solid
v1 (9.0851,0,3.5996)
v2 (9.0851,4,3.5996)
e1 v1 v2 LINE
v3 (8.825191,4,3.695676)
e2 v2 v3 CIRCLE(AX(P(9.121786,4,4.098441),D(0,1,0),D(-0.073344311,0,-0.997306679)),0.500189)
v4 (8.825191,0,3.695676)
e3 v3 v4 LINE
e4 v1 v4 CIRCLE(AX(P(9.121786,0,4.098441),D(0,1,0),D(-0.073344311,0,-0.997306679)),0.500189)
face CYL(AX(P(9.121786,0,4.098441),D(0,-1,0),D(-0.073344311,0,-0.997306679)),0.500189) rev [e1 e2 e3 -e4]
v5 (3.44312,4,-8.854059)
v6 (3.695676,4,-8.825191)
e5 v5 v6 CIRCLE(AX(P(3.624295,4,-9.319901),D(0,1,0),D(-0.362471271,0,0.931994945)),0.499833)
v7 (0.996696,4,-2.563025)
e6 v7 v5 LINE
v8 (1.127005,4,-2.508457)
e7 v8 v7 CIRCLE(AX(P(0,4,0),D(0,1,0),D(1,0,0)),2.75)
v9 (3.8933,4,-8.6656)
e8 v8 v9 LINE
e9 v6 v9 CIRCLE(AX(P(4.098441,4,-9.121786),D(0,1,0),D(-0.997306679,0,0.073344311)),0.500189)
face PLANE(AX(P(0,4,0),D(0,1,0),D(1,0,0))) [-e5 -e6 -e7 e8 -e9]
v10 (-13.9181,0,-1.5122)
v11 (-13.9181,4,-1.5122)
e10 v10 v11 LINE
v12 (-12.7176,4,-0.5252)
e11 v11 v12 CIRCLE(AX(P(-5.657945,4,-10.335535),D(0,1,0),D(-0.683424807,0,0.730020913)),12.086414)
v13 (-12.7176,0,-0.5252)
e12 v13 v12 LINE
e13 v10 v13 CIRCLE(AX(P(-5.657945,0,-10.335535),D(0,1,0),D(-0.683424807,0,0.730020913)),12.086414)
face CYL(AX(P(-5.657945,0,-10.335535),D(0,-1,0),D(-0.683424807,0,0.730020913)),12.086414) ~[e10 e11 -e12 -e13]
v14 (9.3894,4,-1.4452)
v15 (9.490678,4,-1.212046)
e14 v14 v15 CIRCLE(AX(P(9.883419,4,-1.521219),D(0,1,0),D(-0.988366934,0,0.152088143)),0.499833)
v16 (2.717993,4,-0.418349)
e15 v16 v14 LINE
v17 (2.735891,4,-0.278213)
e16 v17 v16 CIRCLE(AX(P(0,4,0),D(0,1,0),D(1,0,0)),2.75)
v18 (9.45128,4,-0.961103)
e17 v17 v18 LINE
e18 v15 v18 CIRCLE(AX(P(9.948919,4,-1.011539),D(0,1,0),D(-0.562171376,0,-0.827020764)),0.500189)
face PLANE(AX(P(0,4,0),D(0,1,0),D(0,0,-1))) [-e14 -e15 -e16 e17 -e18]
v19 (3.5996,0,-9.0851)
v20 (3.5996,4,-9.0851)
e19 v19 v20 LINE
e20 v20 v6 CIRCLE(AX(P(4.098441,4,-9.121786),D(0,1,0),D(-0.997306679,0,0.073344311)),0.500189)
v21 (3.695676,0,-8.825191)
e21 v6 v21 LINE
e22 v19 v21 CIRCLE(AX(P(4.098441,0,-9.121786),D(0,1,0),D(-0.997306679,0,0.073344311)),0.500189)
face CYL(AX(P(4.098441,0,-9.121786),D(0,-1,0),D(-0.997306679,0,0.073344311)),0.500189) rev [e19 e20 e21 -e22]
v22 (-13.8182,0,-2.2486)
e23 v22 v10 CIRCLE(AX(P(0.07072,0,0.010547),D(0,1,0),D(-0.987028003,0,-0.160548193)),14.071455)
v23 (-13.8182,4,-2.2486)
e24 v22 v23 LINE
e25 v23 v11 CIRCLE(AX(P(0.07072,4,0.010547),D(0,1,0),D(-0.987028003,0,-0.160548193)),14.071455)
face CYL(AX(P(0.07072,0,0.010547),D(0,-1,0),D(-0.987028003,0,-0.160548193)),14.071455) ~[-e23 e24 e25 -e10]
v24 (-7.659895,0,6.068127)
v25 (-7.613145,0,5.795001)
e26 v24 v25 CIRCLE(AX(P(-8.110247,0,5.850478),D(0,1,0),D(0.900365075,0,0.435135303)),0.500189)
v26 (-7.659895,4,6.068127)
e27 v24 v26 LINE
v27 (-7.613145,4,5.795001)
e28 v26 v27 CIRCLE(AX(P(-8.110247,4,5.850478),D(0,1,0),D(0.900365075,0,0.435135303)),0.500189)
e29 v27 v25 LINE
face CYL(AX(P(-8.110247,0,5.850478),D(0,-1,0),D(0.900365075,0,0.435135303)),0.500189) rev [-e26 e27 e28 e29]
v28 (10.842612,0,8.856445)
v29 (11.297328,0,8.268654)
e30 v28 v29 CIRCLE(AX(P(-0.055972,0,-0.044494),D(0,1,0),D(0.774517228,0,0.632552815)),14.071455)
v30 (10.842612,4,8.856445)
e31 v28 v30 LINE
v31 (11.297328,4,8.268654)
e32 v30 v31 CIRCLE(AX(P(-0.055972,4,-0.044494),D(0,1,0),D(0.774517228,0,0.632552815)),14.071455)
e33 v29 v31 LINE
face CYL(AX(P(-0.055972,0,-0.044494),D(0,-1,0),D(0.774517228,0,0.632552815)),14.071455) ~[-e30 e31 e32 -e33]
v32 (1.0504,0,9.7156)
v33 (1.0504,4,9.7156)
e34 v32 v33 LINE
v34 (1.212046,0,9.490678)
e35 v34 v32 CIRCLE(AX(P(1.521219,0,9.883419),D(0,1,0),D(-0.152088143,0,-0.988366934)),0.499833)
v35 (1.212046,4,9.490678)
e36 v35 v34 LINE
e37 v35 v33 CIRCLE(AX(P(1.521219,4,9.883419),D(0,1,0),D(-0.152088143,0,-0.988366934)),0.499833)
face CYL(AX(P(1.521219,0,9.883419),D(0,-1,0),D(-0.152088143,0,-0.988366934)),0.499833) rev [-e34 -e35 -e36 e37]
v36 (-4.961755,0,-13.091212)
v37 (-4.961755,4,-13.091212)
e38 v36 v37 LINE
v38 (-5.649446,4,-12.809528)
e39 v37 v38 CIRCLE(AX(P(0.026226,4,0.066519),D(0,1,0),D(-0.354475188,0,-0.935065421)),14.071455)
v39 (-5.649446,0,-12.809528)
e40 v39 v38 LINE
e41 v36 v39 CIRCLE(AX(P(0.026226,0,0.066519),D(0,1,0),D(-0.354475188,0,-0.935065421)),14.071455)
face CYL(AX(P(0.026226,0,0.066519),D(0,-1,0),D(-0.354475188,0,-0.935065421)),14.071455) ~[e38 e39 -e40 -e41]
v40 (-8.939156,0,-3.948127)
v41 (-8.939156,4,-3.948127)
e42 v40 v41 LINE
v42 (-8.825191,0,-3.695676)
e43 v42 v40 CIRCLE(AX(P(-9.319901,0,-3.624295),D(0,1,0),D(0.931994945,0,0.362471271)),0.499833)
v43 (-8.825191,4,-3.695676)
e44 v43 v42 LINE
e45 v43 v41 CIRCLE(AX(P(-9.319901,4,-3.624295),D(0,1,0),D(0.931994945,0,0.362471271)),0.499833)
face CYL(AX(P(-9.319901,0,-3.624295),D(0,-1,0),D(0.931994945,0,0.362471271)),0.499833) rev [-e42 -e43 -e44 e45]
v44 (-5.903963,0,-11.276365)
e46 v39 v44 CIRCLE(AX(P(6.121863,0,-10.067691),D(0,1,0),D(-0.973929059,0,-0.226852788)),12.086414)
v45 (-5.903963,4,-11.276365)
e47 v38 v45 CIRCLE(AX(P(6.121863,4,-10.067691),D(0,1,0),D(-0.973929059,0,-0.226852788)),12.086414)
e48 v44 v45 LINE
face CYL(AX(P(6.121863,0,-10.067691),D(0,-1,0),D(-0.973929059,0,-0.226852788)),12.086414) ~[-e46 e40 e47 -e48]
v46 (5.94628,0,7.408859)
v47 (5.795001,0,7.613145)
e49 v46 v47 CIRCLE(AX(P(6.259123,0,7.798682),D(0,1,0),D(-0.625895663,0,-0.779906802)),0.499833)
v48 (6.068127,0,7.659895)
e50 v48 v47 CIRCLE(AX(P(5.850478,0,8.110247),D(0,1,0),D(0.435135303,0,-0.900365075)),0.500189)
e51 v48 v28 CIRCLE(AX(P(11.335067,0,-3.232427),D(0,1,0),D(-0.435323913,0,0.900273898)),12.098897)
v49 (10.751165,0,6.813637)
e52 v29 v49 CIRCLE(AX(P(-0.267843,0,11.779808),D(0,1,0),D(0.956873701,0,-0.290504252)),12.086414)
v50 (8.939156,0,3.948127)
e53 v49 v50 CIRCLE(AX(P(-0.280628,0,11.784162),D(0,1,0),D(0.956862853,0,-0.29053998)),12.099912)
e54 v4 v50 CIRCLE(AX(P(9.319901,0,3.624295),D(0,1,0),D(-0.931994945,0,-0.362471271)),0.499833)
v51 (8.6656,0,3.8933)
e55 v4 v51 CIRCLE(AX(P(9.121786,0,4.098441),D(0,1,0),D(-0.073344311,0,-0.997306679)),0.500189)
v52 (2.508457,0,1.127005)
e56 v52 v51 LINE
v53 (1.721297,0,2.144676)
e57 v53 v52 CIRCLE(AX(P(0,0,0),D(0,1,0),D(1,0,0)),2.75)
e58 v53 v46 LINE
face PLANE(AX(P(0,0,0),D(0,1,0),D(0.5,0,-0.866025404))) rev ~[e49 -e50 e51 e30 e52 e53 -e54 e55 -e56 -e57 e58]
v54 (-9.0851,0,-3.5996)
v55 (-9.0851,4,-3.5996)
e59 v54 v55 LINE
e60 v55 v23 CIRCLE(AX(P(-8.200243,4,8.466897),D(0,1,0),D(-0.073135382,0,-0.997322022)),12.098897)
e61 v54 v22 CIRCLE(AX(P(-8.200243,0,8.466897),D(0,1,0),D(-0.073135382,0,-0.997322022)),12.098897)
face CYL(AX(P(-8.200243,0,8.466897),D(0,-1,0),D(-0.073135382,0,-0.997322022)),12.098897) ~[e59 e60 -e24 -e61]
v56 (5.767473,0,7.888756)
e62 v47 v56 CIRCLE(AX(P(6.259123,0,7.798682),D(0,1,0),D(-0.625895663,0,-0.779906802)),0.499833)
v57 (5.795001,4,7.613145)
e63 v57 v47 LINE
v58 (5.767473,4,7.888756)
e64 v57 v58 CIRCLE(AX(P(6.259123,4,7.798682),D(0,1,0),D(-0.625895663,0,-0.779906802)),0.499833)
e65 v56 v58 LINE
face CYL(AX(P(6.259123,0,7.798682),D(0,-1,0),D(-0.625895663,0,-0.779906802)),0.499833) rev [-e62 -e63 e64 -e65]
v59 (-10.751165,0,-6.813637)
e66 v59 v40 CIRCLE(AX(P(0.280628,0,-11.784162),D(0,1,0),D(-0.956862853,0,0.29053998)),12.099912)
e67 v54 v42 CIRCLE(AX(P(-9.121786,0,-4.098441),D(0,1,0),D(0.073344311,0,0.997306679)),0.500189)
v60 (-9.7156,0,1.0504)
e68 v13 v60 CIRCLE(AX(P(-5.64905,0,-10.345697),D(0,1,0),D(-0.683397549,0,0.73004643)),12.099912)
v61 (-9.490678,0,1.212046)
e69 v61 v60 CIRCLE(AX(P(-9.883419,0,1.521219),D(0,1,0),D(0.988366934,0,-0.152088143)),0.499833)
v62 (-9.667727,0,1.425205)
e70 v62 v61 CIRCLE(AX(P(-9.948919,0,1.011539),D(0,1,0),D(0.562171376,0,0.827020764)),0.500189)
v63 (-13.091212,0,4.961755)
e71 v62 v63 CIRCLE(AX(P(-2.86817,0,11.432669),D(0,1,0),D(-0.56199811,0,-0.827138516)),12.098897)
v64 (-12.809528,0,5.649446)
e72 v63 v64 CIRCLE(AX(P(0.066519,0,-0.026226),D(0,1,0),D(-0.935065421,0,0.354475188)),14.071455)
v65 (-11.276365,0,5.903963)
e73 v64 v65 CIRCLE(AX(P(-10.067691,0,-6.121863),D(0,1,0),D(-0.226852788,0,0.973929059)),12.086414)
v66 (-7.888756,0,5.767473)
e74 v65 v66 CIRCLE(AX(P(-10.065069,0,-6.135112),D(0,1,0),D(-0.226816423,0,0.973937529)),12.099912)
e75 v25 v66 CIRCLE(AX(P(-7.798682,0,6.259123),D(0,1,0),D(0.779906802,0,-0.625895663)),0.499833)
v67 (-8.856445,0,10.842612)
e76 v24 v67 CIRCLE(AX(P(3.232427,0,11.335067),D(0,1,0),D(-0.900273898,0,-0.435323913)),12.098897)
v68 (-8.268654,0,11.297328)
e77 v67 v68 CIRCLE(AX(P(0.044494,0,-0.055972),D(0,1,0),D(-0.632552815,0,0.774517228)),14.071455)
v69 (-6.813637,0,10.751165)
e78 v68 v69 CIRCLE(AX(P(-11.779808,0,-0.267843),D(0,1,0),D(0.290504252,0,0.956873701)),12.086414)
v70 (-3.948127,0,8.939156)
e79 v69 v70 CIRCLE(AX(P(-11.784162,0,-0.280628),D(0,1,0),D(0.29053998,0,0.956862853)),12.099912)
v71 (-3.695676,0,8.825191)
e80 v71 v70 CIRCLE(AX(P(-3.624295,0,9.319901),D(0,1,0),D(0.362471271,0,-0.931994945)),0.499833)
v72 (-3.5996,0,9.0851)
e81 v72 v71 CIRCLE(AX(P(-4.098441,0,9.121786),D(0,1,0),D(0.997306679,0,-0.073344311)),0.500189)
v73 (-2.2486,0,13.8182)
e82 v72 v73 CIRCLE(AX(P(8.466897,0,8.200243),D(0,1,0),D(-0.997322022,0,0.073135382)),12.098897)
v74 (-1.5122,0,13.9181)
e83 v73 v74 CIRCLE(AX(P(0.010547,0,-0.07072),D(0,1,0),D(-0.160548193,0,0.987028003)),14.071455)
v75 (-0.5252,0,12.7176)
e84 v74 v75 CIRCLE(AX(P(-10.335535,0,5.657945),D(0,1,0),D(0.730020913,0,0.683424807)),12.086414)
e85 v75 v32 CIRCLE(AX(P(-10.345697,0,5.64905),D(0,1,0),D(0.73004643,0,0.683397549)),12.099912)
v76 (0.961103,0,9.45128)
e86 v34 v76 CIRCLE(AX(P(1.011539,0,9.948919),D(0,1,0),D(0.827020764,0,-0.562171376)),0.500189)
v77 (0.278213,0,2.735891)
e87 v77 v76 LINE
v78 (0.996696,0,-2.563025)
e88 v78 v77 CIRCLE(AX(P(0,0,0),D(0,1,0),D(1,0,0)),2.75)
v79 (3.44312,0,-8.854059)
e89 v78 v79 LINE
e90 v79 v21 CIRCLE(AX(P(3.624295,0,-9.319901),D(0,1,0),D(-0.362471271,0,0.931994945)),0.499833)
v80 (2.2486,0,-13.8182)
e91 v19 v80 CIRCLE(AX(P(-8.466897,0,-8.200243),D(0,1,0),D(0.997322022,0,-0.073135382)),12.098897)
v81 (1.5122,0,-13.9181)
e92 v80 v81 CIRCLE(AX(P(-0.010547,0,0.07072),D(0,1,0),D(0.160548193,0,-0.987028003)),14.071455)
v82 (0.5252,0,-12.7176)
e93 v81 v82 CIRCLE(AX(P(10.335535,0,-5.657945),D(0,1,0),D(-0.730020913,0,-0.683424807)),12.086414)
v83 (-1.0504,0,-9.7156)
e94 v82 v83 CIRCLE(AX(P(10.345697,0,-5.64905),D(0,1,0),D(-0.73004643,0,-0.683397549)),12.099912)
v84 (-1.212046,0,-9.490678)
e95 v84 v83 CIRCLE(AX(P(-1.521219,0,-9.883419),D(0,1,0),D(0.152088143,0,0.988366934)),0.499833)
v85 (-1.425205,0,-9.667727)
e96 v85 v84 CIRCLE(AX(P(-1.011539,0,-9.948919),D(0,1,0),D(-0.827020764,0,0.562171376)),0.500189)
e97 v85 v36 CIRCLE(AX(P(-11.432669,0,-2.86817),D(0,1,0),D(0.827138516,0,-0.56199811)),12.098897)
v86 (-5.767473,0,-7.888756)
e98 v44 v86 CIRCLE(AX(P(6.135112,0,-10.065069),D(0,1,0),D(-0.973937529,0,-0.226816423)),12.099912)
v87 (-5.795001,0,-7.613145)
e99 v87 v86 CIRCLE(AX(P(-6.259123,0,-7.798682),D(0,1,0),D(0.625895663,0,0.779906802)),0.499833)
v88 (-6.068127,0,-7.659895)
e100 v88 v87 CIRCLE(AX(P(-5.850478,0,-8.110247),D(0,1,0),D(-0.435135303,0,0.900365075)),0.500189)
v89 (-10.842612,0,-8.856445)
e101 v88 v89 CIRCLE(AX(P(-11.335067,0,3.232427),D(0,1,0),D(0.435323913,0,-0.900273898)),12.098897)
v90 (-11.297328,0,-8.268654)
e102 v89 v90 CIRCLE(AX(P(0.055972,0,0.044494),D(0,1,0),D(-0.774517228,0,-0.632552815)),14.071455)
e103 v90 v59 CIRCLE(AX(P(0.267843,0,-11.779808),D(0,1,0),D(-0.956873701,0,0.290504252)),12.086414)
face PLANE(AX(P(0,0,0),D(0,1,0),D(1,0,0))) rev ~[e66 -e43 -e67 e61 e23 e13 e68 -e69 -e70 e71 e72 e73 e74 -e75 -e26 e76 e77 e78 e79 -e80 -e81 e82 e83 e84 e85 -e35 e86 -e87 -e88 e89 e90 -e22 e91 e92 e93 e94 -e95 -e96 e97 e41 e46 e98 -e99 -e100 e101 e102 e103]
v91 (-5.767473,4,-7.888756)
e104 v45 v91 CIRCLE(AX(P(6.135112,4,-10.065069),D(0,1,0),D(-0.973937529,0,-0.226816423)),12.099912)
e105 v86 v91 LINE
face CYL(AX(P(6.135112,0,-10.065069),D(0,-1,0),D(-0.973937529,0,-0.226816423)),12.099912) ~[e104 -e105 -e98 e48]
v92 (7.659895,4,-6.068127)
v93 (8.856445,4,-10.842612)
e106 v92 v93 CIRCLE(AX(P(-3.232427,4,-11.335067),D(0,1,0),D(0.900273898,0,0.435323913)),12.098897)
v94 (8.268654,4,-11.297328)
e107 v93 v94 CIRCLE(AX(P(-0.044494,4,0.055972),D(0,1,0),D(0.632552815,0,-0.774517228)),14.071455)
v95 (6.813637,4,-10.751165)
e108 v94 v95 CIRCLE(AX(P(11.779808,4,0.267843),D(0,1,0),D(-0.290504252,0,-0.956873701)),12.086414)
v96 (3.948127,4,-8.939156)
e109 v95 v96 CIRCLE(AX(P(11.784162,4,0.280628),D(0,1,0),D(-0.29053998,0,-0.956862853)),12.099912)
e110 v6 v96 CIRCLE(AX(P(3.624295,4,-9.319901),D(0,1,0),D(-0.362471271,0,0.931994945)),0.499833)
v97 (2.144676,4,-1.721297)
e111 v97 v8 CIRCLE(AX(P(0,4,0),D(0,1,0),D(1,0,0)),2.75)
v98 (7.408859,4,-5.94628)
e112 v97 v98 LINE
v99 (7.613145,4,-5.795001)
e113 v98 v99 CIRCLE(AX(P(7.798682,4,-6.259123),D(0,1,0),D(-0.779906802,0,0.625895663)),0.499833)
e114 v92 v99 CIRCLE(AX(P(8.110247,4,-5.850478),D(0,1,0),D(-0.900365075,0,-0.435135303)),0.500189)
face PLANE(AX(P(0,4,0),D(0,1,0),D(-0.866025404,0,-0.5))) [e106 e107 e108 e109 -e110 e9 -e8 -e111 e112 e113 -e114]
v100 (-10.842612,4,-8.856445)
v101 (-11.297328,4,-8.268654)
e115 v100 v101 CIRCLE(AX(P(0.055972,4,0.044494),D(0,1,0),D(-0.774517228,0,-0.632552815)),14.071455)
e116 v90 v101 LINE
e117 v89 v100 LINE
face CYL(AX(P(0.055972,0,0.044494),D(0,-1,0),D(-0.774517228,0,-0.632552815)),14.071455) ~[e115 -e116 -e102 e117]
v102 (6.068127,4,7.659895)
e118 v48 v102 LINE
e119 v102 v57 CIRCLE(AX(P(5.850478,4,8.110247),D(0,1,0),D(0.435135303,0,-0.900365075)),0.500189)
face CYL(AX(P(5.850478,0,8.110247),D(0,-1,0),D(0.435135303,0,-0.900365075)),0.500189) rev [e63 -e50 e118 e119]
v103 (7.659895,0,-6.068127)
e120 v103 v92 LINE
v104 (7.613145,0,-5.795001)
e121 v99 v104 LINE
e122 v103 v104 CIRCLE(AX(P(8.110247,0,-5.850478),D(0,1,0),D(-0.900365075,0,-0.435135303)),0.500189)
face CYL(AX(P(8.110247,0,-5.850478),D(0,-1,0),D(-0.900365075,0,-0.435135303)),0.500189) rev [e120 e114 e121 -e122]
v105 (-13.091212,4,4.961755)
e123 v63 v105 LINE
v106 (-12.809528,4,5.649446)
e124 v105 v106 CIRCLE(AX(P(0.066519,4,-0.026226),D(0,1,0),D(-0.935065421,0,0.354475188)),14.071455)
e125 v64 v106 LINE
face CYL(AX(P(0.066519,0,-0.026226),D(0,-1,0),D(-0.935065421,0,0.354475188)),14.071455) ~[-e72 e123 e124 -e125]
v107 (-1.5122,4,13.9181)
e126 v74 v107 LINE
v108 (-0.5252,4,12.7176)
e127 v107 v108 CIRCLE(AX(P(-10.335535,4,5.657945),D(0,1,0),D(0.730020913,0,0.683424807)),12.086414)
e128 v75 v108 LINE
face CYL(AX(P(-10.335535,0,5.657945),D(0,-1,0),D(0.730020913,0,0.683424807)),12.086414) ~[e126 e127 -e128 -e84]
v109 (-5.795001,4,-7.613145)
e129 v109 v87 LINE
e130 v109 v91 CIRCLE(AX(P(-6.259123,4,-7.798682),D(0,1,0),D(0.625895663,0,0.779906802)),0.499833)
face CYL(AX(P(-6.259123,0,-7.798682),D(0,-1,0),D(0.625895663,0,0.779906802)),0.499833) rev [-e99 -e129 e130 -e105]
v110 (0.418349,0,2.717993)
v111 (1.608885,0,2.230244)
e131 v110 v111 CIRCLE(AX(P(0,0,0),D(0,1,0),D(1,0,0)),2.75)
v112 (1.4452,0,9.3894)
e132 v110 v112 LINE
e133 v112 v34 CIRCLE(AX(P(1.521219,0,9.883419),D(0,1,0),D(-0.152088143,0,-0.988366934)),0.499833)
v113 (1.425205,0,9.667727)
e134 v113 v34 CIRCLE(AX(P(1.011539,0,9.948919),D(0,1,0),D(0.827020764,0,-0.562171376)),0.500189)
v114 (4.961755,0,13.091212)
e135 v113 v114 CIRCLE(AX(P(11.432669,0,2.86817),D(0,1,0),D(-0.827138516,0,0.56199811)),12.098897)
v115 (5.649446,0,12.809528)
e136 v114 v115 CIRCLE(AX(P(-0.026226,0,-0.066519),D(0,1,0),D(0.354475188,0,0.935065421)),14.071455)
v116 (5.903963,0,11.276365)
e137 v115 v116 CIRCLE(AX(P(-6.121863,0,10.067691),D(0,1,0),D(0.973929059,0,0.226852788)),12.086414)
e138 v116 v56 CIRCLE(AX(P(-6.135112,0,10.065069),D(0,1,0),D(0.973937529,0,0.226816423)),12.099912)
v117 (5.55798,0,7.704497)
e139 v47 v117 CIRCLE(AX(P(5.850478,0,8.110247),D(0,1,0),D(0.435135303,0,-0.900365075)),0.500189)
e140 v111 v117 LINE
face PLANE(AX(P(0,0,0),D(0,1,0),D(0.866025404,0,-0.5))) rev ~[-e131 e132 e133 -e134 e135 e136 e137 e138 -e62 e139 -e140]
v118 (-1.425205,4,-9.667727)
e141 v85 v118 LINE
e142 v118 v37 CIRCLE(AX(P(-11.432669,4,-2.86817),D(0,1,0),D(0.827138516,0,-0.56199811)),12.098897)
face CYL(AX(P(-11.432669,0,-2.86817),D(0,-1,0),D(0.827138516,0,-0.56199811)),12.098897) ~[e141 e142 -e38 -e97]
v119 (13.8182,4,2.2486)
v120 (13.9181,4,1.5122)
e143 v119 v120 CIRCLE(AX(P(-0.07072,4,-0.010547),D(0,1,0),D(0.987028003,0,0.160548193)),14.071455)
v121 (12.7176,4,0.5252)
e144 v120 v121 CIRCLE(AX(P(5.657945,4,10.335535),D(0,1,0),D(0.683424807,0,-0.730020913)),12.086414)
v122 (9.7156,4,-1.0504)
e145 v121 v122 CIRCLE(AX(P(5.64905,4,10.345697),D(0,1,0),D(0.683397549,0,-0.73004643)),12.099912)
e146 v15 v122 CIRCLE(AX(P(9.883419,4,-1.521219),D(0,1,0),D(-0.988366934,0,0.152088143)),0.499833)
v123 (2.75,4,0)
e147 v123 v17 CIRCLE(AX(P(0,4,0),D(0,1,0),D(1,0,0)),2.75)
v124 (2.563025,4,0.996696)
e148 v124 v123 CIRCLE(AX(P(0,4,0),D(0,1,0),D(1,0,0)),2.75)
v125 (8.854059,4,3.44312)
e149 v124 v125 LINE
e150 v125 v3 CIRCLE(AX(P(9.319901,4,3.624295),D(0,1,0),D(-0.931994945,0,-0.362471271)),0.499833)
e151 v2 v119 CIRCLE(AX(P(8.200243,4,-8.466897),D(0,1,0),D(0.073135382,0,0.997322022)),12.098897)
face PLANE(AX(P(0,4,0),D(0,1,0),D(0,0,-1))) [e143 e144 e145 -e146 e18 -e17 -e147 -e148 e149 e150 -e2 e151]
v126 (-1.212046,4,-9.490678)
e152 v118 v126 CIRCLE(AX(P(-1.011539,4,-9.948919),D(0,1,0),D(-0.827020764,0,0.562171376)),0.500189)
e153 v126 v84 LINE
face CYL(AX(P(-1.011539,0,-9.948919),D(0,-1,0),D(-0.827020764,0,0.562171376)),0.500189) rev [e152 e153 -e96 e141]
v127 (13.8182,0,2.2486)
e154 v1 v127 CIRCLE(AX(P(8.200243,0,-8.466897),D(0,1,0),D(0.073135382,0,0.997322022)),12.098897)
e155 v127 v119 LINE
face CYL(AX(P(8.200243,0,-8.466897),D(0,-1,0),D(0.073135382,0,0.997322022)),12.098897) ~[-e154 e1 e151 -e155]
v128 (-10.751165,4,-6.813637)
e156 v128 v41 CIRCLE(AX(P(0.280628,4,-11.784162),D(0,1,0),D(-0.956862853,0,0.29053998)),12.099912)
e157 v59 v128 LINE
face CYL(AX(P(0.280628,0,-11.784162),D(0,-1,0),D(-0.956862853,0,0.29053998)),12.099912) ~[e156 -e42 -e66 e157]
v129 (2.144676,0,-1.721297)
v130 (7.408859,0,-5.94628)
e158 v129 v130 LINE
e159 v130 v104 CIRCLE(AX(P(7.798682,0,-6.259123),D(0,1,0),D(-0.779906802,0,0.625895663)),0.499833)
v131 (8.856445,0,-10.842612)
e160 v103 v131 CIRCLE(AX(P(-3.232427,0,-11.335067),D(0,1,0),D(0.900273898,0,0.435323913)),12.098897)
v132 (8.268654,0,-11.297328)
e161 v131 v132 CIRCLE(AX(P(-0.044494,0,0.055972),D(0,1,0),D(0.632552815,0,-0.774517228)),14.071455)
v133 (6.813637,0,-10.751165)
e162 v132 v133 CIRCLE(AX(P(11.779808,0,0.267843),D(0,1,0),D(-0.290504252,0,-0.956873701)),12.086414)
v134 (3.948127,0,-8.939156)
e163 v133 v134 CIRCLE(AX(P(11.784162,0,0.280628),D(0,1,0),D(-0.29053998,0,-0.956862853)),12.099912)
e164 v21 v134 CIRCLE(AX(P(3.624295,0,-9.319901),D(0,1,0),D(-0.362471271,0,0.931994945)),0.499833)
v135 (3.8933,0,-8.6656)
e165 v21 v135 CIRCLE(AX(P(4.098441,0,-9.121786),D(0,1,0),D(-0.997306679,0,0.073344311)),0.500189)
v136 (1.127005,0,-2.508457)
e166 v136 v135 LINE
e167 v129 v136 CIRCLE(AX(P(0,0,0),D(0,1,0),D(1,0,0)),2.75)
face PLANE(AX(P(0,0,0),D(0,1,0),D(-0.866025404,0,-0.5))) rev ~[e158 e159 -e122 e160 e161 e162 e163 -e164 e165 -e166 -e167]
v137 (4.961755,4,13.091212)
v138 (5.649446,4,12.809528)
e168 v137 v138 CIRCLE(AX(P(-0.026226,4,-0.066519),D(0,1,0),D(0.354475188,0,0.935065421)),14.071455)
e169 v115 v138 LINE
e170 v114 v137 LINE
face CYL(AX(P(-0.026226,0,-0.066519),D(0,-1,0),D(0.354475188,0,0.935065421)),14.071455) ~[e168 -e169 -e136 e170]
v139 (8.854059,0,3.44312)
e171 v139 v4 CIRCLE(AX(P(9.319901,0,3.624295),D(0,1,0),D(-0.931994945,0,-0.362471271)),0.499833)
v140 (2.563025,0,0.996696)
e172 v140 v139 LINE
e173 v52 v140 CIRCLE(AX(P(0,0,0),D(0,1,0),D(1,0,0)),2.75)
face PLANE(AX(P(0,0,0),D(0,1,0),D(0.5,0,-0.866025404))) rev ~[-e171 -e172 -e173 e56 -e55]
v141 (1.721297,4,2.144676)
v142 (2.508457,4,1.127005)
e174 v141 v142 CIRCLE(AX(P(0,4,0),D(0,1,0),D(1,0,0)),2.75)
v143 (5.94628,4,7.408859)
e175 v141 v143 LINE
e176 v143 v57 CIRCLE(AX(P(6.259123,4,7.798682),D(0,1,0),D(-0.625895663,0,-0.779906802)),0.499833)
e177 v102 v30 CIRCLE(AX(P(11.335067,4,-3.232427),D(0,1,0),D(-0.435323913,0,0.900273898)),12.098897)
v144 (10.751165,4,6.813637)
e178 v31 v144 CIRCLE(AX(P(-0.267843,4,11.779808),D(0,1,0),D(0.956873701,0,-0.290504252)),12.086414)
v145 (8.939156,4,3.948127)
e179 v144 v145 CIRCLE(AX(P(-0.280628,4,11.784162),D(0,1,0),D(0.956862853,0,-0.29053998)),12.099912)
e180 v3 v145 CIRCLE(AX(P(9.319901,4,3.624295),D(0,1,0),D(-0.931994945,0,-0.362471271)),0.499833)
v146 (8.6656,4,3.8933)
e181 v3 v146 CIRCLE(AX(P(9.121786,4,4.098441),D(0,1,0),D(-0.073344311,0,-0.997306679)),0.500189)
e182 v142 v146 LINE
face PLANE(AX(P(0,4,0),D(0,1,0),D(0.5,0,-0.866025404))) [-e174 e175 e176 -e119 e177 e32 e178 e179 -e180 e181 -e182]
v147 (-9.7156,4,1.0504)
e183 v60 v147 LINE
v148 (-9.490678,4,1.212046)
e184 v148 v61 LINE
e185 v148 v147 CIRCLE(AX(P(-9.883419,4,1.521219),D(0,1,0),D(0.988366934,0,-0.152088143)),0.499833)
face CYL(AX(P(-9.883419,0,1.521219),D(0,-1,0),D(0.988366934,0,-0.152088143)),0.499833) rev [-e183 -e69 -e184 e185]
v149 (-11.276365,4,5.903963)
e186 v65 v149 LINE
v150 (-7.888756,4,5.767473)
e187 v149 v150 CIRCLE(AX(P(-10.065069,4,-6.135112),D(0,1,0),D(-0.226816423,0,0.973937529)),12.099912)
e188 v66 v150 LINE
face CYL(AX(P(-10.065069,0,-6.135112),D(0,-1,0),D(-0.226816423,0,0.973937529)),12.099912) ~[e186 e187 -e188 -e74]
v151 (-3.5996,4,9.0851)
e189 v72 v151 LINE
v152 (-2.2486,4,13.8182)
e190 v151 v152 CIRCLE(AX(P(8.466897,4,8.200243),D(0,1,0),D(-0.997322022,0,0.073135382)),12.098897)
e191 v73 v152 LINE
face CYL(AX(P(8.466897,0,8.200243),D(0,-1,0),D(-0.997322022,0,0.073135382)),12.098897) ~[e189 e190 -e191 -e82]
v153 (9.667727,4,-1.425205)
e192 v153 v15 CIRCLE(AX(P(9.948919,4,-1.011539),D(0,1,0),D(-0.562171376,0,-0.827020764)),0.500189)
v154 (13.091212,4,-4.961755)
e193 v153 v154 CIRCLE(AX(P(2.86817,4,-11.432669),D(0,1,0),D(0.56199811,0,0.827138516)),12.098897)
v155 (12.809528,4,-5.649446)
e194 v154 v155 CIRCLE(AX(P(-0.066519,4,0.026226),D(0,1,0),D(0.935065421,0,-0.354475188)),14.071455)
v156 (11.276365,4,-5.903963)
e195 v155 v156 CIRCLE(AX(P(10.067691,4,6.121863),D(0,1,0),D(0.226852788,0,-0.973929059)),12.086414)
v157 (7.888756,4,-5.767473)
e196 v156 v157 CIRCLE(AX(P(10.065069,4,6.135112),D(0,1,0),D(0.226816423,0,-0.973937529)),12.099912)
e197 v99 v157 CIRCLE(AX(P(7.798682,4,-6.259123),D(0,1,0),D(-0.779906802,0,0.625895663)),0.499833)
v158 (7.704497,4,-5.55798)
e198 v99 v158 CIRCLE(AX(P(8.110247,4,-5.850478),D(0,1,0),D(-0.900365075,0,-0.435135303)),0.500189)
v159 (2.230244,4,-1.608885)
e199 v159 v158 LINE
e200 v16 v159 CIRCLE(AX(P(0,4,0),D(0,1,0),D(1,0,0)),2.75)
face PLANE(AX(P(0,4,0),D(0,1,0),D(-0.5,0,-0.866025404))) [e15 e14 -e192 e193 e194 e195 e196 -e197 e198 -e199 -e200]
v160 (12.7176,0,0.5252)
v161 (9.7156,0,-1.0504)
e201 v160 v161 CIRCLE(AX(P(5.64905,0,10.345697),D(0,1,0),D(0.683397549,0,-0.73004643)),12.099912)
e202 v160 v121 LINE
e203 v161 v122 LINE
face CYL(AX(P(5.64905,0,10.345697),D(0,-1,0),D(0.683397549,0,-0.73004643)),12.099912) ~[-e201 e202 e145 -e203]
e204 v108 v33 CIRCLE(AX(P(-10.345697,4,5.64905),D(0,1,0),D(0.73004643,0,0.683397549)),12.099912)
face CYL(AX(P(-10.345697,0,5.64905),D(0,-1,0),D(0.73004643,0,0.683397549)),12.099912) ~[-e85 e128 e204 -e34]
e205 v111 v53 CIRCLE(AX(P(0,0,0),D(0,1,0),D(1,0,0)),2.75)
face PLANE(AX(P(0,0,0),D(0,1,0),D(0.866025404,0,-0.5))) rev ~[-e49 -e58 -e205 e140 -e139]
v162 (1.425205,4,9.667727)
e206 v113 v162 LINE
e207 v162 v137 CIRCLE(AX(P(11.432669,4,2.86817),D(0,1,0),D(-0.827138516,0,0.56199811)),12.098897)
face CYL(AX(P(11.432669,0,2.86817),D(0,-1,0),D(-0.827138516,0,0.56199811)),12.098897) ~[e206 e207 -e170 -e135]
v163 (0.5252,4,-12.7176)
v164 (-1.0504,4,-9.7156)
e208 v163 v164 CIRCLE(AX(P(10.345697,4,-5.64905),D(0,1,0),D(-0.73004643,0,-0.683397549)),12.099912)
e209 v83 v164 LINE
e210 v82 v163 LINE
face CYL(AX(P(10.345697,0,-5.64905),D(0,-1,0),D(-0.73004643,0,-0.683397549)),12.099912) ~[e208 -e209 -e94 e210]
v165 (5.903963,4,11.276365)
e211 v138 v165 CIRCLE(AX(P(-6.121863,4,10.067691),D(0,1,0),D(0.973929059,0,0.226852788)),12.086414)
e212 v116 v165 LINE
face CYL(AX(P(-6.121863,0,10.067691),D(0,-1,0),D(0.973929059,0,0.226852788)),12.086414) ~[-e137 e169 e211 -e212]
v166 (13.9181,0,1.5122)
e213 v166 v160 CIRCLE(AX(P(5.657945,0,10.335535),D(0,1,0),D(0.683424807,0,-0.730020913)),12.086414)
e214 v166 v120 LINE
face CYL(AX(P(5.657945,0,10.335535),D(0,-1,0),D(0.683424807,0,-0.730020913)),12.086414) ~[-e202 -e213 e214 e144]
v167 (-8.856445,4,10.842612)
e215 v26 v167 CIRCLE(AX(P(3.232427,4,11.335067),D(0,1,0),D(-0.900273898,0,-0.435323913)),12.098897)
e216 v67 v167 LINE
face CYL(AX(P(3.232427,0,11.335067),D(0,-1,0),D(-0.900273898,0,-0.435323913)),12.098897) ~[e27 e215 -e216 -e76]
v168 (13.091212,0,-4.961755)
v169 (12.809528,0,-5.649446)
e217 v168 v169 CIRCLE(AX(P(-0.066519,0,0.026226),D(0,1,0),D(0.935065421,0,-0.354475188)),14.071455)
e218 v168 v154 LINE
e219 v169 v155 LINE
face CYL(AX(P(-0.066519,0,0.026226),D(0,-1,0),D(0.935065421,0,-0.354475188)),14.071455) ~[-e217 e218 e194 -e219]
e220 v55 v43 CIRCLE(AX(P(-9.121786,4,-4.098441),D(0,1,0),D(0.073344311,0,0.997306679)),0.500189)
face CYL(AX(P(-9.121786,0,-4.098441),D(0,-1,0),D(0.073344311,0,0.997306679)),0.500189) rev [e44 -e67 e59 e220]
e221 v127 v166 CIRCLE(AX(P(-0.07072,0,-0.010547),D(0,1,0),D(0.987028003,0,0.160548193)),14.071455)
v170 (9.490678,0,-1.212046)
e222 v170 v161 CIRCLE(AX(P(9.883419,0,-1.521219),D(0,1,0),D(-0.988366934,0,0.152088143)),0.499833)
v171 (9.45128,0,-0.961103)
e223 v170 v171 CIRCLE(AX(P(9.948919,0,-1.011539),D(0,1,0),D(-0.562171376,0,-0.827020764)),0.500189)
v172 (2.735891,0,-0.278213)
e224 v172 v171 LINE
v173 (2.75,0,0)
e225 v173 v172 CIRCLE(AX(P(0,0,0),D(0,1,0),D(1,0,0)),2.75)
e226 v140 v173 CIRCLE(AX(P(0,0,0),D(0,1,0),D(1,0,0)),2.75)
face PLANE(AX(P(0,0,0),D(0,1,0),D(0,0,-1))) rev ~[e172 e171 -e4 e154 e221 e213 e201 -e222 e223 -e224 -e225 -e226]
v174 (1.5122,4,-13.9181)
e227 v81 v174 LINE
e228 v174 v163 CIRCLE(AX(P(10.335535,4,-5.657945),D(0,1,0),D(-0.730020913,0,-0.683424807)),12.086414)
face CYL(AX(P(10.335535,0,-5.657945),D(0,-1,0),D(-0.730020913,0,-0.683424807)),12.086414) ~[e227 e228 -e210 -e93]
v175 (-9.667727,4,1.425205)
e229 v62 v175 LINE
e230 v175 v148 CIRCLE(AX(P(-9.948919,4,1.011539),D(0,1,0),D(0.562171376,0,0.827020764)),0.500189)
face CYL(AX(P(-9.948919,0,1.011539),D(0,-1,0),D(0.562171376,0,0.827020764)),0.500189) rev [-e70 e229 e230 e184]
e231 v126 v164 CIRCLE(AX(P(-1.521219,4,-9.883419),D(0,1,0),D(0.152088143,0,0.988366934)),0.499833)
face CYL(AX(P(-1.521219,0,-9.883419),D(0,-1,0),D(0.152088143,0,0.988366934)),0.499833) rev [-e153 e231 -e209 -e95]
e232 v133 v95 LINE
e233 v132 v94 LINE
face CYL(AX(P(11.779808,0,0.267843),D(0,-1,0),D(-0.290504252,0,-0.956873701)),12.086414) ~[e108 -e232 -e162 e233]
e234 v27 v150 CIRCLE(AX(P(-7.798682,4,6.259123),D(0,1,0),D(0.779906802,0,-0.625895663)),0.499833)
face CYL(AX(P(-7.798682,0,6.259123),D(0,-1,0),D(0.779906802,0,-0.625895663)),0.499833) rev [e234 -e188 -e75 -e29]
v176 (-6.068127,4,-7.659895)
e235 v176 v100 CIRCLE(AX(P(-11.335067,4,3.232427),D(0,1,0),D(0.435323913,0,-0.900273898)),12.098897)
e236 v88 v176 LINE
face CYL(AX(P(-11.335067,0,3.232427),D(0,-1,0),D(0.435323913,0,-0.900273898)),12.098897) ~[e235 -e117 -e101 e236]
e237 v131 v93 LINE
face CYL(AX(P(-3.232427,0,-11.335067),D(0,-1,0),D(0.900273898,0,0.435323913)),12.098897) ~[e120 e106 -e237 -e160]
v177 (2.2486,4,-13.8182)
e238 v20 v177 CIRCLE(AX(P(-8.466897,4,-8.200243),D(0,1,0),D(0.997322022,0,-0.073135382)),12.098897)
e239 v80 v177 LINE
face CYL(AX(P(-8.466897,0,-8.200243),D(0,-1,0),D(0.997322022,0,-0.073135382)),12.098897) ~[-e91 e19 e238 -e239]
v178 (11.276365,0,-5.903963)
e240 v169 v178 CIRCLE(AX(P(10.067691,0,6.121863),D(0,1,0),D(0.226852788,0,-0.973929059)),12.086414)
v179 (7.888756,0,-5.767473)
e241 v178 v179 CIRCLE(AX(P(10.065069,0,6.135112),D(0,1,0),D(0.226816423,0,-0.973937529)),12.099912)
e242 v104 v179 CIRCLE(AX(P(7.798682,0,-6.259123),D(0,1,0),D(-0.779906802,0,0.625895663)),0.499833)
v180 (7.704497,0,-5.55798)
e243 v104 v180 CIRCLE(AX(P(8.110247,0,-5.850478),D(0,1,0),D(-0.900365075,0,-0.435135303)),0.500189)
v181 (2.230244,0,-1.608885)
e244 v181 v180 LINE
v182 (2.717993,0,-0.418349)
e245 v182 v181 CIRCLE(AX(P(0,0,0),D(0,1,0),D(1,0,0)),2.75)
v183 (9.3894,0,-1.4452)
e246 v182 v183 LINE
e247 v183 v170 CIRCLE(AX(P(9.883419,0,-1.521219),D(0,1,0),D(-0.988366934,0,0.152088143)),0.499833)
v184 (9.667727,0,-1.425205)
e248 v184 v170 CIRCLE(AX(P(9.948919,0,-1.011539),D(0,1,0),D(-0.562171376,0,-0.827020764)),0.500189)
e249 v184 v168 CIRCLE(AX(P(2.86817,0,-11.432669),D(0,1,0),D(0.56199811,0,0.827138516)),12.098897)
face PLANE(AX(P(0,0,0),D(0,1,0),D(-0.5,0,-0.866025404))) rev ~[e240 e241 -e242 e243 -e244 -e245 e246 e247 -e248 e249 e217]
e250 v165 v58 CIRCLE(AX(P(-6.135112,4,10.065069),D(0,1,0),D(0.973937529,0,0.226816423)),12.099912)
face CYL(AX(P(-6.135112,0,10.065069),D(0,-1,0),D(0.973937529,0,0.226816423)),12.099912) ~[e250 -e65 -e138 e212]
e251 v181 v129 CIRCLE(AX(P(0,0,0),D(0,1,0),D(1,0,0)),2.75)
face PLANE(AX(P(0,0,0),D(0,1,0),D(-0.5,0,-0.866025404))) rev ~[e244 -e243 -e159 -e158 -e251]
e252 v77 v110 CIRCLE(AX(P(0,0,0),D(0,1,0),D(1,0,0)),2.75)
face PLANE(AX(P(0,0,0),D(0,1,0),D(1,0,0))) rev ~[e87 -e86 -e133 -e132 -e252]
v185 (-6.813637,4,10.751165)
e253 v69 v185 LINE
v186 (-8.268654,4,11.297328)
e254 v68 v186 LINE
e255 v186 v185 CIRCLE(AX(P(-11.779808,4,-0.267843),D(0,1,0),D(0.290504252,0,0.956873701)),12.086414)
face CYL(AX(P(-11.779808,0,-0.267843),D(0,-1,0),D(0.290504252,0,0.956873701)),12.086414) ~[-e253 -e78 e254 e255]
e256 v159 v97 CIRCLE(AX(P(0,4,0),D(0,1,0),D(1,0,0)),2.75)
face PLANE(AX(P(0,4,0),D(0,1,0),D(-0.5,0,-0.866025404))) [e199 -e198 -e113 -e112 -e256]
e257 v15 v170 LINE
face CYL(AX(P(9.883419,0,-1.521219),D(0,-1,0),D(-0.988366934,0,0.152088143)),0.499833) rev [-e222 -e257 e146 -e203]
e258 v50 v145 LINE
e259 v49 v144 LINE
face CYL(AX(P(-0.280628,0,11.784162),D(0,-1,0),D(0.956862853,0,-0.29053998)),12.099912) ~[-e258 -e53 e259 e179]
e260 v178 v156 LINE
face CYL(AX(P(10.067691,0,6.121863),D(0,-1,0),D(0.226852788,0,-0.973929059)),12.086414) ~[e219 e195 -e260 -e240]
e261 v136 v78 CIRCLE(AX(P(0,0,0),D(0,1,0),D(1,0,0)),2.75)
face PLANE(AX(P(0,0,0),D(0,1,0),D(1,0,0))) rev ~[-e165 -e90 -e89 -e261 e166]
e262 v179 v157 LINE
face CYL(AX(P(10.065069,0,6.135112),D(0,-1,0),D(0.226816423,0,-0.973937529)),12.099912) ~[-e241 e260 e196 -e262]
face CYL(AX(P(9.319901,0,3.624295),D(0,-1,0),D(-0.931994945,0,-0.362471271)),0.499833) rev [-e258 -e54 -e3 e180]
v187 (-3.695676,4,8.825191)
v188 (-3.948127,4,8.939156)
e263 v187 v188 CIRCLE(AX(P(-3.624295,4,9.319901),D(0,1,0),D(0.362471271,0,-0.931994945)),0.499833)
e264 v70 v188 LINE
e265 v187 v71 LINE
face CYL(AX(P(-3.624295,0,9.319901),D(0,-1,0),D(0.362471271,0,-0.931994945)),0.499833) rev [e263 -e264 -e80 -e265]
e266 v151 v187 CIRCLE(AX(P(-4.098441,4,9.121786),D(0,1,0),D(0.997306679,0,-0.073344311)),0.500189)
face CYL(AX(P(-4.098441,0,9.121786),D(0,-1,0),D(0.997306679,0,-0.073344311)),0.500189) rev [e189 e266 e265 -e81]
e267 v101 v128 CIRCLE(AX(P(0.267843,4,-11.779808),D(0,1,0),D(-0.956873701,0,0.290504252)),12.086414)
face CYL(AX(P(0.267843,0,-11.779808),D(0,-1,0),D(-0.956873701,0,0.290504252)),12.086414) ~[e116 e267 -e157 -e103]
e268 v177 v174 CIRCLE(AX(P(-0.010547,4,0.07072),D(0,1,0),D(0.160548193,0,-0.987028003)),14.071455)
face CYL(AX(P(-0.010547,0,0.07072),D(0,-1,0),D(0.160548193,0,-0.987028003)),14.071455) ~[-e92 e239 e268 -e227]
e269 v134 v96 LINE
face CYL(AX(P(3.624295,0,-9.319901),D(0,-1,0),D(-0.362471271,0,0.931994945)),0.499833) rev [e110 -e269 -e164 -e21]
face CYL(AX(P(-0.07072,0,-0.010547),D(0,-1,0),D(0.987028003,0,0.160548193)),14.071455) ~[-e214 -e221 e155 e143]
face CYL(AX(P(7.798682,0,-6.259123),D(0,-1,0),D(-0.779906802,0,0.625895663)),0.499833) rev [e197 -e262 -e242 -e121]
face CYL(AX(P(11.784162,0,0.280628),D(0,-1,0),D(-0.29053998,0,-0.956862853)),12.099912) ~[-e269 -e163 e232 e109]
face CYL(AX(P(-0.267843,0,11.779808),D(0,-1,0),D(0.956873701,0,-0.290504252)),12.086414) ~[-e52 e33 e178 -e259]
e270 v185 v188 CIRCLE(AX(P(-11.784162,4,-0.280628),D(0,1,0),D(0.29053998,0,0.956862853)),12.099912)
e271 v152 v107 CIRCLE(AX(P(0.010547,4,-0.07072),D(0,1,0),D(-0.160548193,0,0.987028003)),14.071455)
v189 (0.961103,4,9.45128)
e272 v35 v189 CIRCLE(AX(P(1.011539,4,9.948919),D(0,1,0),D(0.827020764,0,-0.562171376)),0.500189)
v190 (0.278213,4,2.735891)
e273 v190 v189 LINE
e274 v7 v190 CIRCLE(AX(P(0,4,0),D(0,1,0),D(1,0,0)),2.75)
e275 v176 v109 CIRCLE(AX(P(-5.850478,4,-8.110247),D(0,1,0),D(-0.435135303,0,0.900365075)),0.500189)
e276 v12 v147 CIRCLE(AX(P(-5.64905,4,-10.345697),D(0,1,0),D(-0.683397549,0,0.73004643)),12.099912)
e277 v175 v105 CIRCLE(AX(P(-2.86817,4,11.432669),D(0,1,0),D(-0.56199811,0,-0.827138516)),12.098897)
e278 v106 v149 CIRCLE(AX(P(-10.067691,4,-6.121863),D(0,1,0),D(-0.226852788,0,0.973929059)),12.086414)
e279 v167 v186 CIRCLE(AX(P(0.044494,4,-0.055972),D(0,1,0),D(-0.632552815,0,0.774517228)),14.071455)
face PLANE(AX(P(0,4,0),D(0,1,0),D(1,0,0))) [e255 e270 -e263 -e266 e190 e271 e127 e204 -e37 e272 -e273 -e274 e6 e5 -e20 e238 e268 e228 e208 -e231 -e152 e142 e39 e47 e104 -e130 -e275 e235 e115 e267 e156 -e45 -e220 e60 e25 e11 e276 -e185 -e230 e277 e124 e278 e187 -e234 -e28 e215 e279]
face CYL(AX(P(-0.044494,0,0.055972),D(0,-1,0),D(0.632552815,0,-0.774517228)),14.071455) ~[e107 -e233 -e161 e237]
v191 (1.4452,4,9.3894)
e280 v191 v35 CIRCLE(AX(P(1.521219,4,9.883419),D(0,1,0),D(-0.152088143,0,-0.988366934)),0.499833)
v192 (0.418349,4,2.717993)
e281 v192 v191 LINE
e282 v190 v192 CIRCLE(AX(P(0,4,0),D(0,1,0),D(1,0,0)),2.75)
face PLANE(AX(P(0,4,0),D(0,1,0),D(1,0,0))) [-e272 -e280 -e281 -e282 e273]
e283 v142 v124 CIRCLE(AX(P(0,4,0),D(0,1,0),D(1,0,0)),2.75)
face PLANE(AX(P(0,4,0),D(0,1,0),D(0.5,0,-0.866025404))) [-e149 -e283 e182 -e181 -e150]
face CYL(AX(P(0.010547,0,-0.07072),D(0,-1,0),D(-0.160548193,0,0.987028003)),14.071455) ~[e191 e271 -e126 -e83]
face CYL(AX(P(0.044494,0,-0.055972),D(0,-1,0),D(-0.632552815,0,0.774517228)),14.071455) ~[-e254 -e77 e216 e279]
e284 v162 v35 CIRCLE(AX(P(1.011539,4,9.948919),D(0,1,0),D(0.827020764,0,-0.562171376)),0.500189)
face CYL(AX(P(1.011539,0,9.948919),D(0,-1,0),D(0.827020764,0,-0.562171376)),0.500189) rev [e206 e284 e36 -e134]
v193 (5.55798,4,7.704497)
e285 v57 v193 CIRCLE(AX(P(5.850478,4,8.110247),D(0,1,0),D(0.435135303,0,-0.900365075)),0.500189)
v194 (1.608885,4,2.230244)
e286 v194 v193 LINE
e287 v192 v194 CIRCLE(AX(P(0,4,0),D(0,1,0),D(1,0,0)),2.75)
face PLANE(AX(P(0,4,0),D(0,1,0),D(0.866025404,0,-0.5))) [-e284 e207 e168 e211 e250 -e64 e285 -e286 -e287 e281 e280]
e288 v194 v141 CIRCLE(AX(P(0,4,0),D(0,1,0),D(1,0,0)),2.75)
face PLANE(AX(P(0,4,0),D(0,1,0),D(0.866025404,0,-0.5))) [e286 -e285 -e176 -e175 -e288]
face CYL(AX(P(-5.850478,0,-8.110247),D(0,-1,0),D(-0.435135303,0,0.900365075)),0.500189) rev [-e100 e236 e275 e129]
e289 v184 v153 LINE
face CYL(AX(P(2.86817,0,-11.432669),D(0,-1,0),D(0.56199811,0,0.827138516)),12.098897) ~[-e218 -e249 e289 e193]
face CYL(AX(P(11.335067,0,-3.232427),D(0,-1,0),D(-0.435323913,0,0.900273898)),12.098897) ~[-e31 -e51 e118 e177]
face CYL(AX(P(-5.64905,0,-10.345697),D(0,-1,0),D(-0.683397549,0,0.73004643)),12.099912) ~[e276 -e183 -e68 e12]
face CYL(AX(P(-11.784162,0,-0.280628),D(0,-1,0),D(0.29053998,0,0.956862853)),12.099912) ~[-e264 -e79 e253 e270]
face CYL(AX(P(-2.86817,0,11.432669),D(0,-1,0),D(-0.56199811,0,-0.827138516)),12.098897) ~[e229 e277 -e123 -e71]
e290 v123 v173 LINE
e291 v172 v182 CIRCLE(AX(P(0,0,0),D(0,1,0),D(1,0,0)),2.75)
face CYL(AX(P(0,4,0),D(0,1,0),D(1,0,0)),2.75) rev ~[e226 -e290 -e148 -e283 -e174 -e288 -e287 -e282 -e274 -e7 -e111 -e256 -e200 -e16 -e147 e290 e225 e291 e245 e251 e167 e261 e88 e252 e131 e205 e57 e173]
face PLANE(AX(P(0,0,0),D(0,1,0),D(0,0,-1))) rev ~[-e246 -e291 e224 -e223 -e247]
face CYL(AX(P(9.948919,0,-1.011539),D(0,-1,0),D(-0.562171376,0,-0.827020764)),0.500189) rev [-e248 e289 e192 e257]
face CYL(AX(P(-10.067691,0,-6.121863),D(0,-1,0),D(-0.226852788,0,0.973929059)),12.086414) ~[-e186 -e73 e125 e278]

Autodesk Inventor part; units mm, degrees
ref_plane "YZ Plane" through (0, 0, 0) normal (1, 0, 0) x (0, 1, 0)
ref_plane "XZ Plane" through (0, 0, 0) normal (0, 1, 0) x (-1, 0, 0)
ref_plane "XY Plane" through (0, 0, 0) normal (0, 0, 1) x (1, 0, 0)
sketch "Sketch5" plane through (0, 0, 0) normal (0, 1, 0) x (-1, 0, 0)
  line L0 (0, 0) -> (0, -7.7608)
  arc A0 (-2.2486, -13.8182) -> (-1.5122, -13.9181) centre (0, 0) ccw
  arc A1 (-1.5122, -13.9181) -> (-0.5252, -12.7176) centre (-10.3455, -5.6492) ccw
  arc A2 (-1.5122, -13.9181) -> (1.0504, -9.7156) centre (-10.3455, -5.6492) ccw
  arc A3 (-3.5996, -9.0851) -> (-2.2486, -13.8182) centre (8.4677, -8.2001) ccw
  arc A4 (1.4452, -9.3894) -> (1.0504, -9.7156) centre (1.5213, -9.8836) ccw
  arc A5 (-3.5996, -9.0851) -> (-3.8933, -8.6656) centre (-4.0982, -9.1217) ccw
  line L1 (0, 0) -> (1.4452, -9.3894)
  line L2 (0, 0) -> (-3.8933, -8.6656)
  point P0 (-0.5252, -12.7176)
  dimension "d50" = 28
  dimension "d53" = 0.5
extrude "Extrusion4" add sketch "Sketch5" along normal blind 4
pattern_circular "Circular Pattern1" count 12 over 360 about axis through (0, 0, 0) along (0, 1, 0) of "Extrusion4"
sketch "Sketch6" plane through (0, 4, 0) normal (0, 1, 0) x (1, 0, 0)
  circle A0 centre (0, 0) radius 2.75
  dimension "d59" = 5.5
extrude "Extrusion5" cut sketch "Sketch6" against normal blind 4
properties part number "bánh răng 1"
